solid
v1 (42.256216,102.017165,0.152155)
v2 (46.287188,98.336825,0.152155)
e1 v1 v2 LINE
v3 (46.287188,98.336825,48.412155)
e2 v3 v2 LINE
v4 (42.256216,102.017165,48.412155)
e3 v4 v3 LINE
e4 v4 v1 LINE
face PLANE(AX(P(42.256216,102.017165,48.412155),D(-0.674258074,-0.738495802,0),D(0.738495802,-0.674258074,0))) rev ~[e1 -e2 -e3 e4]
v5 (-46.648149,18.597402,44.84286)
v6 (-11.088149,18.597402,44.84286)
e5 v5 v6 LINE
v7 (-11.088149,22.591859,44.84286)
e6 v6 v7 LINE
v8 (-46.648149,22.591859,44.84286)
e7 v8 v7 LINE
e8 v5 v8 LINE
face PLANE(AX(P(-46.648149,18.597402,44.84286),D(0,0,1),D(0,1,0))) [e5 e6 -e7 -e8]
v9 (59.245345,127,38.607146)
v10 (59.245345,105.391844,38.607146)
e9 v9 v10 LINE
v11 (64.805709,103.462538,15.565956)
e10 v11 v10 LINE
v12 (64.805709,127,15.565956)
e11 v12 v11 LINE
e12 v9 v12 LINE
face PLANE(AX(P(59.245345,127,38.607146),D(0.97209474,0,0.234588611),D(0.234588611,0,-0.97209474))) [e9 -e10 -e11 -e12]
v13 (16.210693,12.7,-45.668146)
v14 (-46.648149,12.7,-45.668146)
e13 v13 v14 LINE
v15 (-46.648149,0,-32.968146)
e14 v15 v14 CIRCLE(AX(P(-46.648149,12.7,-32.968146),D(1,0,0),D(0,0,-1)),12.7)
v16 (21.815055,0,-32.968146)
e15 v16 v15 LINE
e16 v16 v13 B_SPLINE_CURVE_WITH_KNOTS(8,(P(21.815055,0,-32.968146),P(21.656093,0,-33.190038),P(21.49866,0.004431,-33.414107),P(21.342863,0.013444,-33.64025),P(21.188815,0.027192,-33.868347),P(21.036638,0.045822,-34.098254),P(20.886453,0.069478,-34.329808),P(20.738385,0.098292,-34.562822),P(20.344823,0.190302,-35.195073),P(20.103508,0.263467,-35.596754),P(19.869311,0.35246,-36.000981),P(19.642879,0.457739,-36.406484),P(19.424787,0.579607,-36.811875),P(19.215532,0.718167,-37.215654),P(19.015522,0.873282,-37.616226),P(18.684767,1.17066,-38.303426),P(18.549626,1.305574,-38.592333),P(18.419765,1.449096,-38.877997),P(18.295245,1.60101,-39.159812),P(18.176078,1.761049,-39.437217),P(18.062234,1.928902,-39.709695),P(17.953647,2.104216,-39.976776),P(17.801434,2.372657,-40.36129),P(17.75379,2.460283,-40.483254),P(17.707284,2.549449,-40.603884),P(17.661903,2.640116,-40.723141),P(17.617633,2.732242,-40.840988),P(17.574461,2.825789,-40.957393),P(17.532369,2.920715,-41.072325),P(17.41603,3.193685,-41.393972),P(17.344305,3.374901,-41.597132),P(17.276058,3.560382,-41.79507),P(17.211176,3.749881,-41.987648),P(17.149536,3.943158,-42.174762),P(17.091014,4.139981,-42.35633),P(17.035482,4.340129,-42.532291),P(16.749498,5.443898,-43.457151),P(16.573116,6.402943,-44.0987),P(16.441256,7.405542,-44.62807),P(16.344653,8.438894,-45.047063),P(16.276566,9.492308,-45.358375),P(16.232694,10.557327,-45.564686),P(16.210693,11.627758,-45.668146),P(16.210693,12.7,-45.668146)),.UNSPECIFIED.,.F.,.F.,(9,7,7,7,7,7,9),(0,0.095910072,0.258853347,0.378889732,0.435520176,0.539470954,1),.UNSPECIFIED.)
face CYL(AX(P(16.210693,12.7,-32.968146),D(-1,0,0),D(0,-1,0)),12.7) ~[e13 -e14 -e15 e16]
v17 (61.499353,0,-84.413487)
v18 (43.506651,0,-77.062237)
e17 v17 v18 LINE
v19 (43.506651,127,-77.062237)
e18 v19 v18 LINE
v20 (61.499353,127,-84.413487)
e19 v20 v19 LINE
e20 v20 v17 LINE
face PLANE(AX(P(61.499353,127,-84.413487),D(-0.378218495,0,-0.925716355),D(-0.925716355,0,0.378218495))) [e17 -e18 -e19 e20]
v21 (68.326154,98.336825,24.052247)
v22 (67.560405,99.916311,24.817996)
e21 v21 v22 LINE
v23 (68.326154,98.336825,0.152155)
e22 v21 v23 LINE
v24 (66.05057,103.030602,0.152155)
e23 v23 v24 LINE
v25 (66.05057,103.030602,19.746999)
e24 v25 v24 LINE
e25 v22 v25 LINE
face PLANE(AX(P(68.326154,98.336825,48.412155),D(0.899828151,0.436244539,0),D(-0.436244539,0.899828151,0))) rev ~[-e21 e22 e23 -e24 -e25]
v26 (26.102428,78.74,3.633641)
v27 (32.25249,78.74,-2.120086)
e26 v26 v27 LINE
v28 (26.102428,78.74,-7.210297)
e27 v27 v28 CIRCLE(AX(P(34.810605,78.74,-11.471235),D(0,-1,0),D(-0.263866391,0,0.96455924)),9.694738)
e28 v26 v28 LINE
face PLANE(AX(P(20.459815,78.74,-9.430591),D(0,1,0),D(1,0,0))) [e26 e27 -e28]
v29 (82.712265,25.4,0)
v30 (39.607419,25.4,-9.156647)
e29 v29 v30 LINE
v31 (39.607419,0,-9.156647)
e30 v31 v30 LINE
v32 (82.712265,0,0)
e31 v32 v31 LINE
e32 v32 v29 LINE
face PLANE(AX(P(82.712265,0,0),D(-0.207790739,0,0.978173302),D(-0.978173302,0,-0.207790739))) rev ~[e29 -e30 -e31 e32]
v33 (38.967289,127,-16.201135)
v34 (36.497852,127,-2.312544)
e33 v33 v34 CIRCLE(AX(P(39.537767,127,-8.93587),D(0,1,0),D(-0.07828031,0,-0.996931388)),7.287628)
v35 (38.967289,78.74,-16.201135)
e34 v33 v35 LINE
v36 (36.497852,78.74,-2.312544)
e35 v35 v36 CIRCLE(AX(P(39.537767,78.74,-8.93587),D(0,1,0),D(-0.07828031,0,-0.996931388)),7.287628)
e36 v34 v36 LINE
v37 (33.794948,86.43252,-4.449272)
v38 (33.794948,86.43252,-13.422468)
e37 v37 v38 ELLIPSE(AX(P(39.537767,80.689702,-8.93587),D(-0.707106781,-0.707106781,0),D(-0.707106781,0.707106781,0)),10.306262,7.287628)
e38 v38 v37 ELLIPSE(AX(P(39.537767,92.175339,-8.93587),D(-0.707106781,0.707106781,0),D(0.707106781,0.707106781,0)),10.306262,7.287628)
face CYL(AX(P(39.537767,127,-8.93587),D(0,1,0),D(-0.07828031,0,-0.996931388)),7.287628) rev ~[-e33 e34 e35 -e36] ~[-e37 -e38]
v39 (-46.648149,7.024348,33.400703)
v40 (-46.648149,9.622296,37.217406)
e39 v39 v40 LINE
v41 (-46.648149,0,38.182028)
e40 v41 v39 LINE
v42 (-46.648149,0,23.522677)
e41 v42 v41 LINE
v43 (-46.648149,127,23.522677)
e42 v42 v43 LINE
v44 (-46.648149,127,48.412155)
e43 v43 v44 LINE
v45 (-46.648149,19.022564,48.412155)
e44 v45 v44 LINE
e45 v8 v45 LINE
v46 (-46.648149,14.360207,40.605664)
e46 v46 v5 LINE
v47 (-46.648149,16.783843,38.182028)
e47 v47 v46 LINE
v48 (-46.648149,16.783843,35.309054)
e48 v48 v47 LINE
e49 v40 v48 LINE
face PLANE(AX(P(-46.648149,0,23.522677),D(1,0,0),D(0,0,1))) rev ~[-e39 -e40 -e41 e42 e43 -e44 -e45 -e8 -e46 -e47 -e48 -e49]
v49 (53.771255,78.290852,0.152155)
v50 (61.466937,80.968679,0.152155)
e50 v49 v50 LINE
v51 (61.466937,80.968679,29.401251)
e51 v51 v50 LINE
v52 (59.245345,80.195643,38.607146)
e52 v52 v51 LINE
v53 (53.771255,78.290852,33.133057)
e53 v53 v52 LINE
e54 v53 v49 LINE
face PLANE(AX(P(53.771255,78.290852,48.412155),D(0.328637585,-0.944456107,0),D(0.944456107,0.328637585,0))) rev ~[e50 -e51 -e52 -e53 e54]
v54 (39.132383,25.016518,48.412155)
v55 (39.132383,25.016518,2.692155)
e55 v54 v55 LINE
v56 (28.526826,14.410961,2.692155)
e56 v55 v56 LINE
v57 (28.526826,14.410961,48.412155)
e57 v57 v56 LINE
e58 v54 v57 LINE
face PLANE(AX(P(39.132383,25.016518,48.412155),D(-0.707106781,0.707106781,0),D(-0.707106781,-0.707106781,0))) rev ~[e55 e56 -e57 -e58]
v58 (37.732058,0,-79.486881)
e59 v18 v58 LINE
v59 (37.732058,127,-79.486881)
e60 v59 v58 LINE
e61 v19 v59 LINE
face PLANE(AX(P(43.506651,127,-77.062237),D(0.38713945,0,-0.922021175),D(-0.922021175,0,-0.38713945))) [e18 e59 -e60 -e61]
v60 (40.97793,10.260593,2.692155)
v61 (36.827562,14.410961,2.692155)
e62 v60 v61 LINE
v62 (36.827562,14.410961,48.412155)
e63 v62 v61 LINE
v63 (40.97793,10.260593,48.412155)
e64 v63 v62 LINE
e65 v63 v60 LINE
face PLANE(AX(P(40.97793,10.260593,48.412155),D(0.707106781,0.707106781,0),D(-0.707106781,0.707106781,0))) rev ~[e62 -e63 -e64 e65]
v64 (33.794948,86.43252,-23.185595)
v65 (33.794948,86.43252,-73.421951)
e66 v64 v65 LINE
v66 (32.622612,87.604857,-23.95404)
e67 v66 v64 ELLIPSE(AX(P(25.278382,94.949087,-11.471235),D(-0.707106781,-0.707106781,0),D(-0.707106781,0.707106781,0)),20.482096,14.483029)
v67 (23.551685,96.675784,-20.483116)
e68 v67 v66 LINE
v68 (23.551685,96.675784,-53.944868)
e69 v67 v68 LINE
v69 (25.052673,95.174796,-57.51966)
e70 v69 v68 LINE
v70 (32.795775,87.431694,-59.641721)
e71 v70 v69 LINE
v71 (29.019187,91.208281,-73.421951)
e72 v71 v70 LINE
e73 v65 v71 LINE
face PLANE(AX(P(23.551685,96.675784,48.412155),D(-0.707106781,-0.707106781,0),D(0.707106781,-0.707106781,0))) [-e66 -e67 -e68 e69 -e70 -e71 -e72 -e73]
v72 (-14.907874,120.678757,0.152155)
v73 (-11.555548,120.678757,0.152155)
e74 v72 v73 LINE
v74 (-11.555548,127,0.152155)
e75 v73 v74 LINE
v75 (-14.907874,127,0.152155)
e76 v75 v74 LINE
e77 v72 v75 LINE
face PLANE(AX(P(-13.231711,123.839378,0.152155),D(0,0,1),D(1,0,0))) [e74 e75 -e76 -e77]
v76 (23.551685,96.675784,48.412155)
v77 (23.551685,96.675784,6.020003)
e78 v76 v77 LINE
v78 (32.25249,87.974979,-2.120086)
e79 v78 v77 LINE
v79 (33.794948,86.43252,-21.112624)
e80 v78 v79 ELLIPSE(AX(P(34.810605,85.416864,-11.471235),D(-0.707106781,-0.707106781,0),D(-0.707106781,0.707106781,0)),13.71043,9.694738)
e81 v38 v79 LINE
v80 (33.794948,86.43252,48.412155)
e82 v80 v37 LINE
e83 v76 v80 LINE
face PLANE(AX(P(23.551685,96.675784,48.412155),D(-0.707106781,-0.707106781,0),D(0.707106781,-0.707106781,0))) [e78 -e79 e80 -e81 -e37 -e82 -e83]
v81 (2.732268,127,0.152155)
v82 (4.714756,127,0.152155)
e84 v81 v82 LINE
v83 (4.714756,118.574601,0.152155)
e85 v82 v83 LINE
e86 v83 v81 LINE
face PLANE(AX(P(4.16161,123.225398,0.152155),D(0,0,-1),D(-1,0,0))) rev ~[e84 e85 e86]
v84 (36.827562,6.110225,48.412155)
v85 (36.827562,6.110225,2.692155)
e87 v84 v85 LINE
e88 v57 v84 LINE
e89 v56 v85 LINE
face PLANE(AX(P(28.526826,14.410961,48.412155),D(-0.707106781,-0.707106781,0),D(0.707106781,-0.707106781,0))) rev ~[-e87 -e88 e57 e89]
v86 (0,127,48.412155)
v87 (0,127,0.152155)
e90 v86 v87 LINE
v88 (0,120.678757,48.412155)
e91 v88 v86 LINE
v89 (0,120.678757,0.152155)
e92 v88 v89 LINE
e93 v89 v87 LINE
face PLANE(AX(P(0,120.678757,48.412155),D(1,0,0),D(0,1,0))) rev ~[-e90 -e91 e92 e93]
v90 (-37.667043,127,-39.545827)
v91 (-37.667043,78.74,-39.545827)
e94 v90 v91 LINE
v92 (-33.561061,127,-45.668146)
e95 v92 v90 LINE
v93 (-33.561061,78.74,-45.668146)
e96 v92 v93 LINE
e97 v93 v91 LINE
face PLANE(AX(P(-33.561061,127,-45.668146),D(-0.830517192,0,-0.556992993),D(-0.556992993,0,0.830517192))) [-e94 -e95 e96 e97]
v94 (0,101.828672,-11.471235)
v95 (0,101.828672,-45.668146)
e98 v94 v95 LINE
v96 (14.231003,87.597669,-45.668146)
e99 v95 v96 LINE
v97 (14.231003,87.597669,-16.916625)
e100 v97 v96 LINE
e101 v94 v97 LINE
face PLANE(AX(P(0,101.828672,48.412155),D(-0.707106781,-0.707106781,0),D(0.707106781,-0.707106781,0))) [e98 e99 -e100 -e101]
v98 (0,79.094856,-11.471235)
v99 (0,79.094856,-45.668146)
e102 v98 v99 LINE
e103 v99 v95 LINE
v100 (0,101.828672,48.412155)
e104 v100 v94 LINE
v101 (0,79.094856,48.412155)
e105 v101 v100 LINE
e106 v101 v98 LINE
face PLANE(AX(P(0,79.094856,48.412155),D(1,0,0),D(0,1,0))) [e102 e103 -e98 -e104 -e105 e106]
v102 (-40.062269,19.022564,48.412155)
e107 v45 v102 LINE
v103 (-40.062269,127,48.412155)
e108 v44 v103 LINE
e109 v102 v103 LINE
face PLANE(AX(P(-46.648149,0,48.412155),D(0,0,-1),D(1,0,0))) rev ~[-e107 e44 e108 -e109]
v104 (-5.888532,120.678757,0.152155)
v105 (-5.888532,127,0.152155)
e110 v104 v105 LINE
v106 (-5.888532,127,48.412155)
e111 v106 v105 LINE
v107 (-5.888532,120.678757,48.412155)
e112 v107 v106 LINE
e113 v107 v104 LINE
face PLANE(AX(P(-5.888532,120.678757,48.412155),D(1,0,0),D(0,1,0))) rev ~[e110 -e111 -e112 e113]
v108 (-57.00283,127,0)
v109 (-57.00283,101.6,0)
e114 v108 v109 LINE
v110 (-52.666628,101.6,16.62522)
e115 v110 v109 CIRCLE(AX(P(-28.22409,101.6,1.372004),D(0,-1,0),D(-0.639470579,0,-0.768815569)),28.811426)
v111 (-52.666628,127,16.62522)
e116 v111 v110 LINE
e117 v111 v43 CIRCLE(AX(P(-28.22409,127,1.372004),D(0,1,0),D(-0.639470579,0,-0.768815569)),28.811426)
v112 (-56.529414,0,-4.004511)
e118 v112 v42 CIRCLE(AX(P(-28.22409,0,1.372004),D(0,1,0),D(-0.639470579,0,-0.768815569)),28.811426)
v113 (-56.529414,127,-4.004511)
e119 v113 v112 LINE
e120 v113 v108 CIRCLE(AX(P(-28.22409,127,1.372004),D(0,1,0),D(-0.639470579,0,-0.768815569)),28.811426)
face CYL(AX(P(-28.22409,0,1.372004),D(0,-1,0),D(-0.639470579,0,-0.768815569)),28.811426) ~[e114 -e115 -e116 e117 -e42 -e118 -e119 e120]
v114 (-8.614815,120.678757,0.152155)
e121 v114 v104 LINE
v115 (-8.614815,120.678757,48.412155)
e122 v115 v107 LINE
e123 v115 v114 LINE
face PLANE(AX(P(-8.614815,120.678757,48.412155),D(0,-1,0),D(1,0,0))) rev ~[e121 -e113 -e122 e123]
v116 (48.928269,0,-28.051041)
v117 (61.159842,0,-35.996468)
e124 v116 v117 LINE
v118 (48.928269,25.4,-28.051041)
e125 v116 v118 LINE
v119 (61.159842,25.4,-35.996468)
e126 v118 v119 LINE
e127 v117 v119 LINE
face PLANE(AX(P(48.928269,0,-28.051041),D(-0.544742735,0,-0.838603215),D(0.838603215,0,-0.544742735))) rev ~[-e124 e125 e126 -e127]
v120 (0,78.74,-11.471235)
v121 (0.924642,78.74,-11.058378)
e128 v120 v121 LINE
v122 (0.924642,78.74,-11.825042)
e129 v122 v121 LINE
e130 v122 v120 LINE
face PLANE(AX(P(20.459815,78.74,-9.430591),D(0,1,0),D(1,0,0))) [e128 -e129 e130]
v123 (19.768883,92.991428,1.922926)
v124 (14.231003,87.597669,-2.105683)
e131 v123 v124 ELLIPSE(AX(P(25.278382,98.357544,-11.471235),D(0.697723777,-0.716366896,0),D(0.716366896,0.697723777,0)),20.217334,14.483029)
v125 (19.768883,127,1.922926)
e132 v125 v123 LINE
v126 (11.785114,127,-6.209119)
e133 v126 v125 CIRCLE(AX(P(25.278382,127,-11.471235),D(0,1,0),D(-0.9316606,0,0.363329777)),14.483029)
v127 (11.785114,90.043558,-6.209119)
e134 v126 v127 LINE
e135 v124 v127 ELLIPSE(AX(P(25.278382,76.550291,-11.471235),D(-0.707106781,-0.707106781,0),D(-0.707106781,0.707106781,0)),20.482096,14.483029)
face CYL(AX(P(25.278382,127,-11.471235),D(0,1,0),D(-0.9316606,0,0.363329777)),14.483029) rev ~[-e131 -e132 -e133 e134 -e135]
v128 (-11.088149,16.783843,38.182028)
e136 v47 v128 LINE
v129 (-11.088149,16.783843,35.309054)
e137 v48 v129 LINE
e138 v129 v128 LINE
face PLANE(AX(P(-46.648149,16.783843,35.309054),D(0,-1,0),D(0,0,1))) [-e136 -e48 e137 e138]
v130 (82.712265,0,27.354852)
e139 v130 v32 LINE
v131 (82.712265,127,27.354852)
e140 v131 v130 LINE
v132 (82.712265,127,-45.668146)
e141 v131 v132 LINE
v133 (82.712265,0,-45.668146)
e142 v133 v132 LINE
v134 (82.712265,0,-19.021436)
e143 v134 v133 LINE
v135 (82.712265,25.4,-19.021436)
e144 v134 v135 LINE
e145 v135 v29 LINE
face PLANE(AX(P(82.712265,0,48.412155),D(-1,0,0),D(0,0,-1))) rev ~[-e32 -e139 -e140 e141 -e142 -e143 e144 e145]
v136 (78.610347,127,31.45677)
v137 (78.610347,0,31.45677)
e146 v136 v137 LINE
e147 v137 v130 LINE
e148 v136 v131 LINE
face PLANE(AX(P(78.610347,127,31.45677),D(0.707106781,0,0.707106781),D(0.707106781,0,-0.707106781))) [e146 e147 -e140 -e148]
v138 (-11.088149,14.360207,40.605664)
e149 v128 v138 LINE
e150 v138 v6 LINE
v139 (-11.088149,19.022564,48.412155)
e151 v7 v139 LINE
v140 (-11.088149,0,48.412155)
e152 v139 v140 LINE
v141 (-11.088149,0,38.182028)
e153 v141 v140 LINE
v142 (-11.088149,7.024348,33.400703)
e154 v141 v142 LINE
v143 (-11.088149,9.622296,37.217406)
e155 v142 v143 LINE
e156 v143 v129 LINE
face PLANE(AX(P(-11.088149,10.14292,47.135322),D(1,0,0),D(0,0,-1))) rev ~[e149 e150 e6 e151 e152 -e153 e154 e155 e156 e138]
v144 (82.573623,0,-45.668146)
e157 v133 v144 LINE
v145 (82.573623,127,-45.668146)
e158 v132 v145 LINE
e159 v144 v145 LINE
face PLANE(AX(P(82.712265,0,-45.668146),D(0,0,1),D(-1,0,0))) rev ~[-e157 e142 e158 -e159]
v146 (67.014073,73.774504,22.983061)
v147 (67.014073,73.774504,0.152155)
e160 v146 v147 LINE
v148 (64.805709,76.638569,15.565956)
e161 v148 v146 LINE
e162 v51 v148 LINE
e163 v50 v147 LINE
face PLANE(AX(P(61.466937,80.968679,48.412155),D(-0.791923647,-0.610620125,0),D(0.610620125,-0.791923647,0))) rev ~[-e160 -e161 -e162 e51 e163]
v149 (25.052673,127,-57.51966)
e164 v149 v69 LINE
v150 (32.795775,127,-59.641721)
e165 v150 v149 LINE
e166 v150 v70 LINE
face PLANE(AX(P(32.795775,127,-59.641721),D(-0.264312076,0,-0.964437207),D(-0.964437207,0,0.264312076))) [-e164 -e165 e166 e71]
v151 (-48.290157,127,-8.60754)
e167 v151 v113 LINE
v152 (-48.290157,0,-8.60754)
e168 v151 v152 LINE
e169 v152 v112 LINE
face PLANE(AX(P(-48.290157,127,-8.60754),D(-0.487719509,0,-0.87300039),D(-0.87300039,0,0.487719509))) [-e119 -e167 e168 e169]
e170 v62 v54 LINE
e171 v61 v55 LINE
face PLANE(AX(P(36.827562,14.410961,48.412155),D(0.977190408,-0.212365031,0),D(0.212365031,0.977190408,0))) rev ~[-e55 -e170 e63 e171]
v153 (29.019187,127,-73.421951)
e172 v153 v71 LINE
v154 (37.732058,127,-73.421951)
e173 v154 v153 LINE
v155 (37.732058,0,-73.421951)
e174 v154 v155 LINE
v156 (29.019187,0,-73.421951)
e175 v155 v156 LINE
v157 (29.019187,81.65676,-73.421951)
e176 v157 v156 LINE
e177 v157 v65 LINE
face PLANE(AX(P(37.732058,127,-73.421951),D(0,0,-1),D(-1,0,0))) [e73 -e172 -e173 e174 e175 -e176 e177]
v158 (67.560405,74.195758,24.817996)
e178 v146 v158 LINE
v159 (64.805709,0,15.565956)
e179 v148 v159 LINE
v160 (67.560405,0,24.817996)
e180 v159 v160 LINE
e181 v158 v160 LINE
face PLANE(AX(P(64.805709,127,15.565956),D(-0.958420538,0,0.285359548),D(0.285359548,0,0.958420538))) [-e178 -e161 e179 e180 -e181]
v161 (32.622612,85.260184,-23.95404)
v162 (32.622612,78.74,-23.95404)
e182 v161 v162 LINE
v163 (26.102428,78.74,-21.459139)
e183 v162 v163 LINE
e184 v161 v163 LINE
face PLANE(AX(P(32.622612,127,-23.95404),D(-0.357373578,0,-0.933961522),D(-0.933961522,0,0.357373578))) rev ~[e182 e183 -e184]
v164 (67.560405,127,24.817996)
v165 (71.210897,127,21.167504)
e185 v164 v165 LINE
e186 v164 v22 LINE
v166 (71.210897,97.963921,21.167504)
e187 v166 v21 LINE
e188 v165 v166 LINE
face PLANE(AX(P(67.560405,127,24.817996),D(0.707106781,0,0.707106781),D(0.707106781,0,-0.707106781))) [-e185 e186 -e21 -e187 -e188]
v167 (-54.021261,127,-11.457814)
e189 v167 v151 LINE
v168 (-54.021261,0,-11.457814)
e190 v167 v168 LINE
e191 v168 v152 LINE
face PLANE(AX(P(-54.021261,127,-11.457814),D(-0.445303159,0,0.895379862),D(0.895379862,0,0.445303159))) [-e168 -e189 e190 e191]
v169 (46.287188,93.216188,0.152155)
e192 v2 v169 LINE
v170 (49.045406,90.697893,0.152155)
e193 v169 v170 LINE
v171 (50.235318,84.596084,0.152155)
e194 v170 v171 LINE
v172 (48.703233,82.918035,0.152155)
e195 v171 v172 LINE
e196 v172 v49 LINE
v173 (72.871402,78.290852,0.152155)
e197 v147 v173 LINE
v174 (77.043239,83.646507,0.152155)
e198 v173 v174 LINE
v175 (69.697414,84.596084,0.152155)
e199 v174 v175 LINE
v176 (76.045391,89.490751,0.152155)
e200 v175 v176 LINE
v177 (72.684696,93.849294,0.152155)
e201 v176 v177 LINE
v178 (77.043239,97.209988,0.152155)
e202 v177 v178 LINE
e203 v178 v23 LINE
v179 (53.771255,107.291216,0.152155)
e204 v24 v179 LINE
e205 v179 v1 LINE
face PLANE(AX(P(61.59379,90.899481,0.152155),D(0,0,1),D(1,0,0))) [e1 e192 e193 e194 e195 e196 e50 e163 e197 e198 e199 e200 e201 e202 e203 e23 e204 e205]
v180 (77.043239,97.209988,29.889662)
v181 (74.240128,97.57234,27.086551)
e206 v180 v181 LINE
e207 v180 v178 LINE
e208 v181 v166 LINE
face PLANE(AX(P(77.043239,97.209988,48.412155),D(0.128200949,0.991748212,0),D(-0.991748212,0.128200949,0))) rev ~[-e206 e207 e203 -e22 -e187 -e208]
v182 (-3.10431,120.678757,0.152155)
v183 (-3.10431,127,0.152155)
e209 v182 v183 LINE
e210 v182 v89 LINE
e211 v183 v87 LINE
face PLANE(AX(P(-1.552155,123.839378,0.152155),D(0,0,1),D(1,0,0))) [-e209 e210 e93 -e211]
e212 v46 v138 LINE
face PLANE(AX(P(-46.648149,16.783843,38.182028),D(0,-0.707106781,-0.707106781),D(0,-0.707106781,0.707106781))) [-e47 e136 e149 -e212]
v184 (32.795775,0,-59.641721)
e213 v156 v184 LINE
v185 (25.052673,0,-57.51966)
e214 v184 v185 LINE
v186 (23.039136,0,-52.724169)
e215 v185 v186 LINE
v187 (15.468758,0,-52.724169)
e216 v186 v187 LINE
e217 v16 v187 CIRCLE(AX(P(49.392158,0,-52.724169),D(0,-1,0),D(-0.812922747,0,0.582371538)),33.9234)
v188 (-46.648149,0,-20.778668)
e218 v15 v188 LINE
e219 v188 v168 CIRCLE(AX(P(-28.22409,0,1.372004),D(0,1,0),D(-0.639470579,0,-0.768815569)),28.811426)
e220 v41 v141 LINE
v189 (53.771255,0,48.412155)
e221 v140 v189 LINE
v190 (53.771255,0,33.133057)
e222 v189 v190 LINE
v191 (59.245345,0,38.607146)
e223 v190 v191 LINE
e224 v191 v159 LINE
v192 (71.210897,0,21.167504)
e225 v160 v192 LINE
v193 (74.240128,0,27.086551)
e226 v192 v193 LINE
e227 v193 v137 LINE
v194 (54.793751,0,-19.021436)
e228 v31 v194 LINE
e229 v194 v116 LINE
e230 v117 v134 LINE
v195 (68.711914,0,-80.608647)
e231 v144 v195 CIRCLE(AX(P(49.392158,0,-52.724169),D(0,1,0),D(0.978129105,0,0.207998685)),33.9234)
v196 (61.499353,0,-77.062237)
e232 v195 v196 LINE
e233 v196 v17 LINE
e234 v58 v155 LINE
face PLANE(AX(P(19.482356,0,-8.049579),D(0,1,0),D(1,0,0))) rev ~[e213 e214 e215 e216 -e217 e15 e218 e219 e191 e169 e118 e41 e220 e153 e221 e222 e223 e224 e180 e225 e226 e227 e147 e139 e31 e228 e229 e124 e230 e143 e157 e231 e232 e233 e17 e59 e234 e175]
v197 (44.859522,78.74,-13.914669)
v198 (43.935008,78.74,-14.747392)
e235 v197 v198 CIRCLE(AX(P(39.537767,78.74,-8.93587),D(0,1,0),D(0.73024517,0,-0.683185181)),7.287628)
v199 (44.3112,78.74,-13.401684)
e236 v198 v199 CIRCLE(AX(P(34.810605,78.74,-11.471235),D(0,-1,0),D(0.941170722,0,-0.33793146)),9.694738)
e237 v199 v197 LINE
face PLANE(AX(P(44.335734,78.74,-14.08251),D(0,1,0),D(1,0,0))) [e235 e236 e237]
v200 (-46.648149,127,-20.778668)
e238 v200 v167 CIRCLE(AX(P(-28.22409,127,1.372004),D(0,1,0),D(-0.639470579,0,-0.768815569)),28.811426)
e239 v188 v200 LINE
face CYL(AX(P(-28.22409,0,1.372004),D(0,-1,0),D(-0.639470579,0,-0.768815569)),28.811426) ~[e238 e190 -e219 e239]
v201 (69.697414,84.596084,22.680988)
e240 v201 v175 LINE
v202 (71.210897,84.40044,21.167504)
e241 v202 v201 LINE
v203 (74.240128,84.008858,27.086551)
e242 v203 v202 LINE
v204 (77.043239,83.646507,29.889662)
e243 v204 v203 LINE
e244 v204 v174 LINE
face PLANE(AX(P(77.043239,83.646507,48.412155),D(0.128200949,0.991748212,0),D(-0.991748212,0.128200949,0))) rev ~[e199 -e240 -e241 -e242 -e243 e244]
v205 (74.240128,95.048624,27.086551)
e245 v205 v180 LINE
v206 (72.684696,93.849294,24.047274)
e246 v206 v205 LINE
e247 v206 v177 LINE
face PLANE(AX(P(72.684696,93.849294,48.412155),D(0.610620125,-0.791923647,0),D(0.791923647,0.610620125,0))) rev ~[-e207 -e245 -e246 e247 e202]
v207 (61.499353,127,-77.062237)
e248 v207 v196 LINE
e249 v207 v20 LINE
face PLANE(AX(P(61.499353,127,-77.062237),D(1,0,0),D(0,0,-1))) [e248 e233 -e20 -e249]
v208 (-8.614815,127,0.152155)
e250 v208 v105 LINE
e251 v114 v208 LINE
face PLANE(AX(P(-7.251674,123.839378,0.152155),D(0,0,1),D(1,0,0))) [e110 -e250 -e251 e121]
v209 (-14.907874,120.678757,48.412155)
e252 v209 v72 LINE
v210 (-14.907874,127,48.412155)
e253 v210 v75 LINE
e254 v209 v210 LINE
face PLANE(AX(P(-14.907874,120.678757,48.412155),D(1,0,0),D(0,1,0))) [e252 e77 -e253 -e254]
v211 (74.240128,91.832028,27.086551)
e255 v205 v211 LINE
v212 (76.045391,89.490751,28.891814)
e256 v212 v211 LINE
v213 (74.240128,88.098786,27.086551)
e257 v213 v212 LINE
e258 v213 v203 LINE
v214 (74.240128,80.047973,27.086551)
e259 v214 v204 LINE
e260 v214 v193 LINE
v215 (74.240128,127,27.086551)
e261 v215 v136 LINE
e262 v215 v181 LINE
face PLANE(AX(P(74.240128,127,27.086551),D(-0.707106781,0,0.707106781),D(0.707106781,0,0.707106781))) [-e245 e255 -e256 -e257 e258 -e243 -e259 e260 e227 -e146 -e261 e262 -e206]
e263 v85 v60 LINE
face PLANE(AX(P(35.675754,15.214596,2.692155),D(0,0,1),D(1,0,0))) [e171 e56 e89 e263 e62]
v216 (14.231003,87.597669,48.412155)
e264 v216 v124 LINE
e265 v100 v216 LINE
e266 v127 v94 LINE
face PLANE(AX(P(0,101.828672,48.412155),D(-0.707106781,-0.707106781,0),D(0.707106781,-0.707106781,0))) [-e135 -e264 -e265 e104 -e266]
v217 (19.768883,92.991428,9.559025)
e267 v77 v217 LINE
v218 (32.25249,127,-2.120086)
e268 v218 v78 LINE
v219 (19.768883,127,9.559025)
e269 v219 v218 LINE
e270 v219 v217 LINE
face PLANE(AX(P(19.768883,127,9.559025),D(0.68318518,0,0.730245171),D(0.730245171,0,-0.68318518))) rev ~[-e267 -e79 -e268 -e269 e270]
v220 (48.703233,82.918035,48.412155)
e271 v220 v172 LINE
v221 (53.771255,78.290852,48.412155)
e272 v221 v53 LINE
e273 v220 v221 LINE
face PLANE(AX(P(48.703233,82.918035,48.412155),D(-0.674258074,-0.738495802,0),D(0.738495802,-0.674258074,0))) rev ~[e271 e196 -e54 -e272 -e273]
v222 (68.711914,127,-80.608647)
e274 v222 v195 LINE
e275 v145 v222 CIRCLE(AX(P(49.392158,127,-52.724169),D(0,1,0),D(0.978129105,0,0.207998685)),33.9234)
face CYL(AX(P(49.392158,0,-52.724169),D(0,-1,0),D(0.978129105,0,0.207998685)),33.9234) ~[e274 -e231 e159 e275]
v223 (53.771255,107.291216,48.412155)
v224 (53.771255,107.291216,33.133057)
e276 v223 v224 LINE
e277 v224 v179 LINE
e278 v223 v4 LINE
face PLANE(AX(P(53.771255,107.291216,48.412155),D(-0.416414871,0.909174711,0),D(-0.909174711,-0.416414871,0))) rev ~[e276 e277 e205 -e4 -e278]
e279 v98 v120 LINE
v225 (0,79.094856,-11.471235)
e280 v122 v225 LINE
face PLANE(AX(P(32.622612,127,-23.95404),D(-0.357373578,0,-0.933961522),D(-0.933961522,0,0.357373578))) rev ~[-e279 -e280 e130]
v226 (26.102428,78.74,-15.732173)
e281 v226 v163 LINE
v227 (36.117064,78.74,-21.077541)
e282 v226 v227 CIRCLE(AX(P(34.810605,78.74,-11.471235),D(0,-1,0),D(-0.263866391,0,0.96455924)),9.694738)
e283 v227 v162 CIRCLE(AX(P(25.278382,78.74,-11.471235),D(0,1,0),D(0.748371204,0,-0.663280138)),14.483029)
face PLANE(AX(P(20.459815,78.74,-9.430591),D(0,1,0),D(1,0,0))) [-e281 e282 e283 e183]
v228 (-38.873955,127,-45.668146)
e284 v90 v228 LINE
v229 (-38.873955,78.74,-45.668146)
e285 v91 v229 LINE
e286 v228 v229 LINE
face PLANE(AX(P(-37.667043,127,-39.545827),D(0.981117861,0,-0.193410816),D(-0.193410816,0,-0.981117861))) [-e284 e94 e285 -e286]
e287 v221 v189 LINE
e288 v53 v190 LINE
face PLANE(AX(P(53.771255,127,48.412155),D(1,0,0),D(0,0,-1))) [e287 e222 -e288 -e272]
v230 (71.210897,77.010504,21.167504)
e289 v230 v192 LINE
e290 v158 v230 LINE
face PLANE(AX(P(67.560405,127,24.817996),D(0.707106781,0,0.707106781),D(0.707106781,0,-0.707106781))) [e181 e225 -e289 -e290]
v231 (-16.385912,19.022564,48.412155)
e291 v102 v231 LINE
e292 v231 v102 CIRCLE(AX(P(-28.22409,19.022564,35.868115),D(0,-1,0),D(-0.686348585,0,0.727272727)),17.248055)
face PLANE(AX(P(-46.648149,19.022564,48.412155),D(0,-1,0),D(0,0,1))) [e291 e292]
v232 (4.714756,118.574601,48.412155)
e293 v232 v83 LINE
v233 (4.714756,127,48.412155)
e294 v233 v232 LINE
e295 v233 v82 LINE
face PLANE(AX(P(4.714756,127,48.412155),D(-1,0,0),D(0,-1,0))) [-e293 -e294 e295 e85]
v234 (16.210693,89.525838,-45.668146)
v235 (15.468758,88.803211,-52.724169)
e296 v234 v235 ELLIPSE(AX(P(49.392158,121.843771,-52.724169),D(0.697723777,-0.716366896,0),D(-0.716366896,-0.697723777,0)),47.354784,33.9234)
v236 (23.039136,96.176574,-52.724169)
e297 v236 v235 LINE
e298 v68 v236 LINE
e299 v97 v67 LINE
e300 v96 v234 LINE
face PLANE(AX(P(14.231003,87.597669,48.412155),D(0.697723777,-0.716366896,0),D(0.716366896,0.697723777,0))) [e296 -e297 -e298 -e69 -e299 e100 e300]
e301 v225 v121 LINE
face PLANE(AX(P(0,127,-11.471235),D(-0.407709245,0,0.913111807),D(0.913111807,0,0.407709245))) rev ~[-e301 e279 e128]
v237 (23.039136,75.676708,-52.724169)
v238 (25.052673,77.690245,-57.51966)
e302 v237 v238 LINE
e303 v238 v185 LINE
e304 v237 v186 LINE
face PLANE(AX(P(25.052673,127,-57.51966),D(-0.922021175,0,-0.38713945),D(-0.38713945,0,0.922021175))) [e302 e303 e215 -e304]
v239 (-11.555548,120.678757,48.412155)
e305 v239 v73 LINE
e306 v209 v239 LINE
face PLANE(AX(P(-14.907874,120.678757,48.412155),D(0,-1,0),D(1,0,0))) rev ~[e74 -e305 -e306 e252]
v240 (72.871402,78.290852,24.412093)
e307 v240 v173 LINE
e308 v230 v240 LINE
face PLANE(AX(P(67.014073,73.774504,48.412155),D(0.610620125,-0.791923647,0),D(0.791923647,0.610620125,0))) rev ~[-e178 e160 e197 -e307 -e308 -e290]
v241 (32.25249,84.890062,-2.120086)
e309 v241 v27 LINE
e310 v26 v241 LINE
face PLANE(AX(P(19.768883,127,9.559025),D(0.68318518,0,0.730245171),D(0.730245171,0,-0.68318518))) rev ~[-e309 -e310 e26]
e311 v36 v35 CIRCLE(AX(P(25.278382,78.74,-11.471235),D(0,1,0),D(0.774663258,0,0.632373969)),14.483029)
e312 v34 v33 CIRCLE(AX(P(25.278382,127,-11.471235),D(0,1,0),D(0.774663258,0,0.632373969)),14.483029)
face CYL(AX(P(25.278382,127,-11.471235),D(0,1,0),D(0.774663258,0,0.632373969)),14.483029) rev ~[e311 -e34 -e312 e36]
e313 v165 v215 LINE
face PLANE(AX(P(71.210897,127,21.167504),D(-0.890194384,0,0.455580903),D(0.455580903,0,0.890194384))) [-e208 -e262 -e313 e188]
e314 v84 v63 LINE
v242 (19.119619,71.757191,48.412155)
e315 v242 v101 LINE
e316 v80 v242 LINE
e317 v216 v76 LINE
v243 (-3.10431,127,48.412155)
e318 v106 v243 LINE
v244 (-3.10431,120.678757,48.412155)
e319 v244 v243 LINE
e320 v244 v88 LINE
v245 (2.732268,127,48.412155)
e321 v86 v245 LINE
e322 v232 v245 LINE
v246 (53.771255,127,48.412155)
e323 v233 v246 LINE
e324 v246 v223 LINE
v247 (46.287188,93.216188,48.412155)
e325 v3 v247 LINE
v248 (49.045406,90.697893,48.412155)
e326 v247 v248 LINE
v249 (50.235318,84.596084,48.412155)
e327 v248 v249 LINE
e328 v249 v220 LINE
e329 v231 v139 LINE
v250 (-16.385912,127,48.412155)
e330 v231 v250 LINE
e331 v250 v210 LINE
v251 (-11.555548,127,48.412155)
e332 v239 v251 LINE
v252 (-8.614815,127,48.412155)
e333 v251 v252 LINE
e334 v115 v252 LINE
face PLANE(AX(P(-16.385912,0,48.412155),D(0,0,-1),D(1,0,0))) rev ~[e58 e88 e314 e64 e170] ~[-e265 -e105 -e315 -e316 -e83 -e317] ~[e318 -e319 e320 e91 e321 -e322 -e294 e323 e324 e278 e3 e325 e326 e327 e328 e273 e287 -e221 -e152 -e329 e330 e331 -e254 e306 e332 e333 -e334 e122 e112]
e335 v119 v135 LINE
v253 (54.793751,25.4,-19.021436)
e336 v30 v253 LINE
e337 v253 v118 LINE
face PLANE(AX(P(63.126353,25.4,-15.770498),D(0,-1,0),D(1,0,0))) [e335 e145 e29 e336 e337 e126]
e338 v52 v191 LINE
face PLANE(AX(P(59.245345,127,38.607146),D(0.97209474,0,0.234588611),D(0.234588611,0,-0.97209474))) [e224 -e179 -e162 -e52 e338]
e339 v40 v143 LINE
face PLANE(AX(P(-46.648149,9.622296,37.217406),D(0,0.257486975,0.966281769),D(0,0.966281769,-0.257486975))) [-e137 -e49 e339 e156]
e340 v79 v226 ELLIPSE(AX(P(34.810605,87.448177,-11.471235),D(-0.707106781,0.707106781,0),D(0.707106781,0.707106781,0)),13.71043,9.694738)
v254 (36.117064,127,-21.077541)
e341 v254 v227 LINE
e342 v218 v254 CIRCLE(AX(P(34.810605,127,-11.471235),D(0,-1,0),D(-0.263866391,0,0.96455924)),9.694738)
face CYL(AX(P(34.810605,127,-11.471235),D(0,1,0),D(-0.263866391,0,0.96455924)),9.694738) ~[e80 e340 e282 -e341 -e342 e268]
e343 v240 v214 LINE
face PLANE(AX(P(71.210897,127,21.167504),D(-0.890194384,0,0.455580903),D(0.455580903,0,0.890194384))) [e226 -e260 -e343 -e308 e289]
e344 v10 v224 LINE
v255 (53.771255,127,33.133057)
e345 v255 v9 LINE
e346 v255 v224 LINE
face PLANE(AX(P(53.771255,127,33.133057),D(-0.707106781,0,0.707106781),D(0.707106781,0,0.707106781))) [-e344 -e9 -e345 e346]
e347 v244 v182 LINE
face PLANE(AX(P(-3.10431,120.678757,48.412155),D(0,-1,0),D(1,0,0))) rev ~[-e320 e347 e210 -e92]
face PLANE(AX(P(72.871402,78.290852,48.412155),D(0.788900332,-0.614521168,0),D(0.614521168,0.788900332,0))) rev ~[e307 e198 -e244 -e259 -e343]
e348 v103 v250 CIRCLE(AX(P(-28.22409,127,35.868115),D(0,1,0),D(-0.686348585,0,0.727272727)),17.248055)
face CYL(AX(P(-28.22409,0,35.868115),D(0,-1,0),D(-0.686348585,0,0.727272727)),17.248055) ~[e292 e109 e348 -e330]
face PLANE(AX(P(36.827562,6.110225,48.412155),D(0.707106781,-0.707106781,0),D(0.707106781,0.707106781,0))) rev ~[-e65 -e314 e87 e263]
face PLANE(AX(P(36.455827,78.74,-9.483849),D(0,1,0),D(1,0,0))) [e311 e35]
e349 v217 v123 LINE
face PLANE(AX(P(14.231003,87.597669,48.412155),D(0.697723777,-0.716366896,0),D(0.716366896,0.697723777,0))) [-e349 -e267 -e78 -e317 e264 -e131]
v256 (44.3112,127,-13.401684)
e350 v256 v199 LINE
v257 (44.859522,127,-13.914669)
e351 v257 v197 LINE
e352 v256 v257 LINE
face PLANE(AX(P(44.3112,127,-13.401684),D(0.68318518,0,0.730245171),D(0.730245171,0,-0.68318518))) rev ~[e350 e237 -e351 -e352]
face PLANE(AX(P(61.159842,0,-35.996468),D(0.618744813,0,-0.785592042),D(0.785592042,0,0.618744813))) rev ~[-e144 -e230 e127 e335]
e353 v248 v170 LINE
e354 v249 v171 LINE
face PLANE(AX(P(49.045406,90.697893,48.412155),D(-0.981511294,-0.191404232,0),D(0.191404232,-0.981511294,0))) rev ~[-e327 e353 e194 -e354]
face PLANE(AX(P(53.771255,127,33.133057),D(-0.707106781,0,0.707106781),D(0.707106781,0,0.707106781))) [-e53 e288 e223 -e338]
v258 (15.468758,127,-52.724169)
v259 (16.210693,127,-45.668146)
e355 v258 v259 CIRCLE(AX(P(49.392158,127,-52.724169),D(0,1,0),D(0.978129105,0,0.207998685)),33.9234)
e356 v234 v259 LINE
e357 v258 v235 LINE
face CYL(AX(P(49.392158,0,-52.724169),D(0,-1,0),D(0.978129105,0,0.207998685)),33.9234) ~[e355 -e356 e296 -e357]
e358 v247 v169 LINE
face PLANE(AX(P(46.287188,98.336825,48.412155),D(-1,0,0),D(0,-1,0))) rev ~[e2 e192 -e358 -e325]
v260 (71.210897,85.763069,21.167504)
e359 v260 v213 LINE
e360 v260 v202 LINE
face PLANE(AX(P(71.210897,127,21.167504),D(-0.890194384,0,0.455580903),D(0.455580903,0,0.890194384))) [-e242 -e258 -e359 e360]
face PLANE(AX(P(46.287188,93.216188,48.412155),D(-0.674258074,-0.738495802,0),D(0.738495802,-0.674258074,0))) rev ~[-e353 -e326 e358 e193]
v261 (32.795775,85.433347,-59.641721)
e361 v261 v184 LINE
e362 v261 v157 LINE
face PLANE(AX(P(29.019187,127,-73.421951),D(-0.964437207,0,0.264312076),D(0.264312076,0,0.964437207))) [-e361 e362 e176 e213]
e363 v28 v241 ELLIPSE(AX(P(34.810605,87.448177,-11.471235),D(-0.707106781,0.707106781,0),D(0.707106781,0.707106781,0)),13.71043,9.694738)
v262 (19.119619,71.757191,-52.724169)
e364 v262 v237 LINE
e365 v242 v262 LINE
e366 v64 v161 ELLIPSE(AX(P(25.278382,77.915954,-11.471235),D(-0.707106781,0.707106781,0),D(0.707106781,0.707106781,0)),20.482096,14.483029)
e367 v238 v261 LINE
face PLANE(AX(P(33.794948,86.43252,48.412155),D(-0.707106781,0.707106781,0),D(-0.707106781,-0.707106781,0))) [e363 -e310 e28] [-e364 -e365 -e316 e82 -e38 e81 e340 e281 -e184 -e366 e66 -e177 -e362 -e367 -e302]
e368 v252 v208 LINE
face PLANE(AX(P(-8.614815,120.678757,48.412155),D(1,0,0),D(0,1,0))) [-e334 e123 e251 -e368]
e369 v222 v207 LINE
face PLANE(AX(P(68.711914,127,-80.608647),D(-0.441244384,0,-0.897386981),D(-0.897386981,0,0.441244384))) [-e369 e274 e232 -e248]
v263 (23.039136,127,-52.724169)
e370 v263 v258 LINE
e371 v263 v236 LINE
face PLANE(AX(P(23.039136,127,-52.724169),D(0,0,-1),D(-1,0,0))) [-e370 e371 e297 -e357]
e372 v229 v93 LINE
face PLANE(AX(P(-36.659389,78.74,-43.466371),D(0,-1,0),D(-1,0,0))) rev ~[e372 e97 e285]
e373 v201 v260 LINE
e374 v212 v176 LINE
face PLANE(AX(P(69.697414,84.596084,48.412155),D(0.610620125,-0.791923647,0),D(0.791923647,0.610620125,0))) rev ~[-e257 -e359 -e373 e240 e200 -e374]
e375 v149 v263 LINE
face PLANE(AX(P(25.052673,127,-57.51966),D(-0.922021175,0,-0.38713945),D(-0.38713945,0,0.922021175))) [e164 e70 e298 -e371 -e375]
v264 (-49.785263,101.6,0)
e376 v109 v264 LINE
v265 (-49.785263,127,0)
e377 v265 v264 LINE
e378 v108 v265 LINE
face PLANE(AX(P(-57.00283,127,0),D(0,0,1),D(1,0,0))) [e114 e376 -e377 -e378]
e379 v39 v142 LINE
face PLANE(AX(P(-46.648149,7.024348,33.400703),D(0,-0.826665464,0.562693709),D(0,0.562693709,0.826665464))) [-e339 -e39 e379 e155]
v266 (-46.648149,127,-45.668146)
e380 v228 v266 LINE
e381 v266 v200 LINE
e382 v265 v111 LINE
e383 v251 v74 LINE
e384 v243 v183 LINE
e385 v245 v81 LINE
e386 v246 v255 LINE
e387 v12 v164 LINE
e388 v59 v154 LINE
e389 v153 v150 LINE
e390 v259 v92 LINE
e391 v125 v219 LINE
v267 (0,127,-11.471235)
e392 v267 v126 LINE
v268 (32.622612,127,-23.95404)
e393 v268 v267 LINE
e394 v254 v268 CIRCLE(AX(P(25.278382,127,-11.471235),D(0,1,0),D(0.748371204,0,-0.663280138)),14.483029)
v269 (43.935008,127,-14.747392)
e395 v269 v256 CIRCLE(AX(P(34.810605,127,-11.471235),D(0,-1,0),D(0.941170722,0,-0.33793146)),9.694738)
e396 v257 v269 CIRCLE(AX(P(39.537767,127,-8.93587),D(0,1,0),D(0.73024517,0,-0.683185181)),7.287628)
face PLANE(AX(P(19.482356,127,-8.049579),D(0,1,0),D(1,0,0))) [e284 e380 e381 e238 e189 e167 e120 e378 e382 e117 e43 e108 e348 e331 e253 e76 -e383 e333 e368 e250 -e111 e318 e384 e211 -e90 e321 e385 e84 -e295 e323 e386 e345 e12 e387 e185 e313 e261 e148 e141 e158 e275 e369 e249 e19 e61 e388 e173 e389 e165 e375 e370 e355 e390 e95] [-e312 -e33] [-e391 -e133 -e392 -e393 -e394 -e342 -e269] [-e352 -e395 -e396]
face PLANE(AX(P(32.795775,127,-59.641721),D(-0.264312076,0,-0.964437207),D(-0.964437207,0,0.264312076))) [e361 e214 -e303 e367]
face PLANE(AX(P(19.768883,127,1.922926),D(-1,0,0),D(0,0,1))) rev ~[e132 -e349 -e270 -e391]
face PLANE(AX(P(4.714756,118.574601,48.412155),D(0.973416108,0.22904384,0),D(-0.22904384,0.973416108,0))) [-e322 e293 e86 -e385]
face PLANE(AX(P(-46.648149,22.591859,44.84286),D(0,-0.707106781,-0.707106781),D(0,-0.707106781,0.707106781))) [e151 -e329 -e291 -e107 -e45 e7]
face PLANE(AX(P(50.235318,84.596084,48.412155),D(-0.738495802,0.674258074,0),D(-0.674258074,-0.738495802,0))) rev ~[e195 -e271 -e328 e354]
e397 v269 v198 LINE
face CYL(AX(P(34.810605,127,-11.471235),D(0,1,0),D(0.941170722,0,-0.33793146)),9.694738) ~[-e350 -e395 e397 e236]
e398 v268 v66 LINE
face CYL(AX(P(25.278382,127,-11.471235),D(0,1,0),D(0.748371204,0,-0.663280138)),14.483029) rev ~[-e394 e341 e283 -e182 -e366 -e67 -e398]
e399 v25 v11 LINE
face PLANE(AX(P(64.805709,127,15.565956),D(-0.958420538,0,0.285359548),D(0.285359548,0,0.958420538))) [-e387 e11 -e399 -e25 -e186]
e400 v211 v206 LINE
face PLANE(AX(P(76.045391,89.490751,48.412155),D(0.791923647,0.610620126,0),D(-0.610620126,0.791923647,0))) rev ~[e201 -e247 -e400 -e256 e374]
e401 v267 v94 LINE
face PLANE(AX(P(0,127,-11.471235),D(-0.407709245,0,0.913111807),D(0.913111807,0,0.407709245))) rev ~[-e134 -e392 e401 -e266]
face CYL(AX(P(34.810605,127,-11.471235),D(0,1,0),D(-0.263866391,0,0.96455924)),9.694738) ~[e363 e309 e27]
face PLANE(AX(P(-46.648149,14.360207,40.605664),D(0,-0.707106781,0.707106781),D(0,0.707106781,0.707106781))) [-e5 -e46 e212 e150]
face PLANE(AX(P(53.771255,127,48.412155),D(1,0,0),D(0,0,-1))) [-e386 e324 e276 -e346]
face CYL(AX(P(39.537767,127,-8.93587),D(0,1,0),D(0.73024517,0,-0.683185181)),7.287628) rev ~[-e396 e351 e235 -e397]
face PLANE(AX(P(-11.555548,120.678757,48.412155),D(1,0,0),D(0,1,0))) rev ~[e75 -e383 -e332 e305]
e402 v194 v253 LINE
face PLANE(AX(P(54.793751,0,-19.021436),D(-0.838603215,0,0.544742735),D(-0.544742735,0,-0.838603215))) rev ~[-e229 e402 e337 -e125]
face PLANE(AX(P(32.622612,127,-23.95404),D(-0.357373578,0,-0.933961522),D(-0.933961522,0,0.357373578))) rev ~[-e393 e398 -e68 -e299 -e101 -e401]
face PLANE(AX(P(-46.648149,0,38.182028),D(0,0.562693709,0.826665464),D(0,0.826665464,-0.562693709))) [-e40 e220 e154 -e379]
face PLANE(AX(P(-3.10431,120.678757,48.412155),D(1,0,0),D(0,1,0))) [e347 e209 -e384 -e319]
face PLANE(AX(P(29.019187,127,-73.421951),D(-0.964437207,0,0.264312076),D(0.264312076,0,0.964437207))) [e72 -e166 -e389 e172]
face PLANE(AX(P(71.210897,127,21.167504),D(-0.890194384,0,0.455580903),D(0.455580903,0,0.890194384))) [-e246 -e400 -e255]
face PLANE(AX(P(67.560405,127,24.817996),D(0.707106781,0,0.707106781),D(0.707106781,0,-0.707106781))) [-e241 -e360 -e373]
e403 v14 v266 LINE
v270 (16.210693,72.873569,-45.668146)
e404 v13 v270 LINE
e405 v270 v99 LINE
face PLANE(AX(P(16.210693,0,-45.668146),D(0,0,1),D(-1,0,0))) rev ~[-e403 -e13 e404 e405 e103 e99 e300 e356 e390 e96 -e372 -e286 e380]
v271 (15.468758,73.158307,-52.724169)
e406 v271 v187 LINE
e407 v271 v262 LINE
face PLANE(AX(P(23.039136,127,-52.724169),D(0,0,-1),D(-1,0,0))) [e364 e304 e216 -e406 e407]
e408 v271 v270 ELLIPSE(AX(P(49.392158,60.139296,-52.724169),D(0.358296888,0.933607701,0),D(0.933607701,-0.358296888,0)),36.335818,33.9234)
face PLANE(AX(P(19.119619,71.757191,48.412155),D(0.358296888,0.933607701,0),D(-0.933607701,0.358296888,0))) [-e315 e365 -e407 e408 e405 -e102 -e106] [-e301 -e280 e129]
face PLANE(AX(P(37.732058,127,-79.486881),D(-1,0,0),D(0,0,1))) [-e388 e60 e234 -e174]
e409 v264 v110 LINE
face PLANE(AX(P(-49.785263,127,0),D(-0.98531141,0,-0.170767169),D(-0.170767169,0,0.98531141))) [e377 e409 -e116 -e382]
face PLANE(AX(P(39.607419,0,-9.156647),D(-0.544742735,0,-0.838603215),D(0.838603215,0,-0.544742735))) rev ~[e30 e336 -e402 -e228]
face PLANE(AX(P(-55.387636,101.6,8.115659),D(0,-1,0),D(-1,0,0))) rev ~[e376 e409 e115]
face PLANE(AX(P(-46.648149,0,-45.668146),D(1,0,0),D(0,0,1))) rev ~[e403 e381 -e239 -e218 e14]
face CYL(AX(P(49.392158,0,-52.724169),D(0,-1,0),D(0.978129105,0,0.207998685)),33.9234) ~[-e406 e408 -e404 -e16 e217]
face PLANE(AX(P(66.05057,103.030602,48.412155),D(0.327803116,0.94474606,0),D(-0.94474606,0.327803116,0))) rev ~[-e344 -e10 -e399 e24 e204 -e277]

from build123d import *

# Parameters (mm, degrees)
BOSS_EXTRUDE1_DEPTH = 127
CUT_EXTRUDE1_DEPTH  = 127
CUT_EXTRUDE2_DEPTH  = 127
CUT_EXTRUDE3_DEPTH  = 127
CUT_EXTRUDE4_DEPTH  = 127
CUT_EXTRUDE5_DEPTH  = 35.56
CUT_EXTRUDE6_DEPTH  = 45.72
CUT_EXTRUDE7_DEPTH  = 25.4
CUT_EXTRUDE8_DEPTH  = 25.4
CUT_EXTRUDE9_DEPTH  = 48.26
FILLET2_R           = 12.7
CUT_EXTRUDE10_DEPTH = 48.26
CUT_EXTRUDE11_DEPTH = 48.26
SKETCH13_W          = 3.352326168
SKETCH13_H          = 6.321243204
SKETCH13_W_2        = 2.726283313
SKETCH13_W_3        = 3.104310258
CUT_EXTRUDE12_DEPTH = 48.26


with BuildPart() as part:
    # Sketch1 → Boss-Extrude1 (new body)
    with BuildSketch(Plane(origin=(0, 0, 0), x_dir=(1, 0, 0), z_dir=(0, 1, 0))):
        with BuildLine():
            Line((-46.648149315, -23.52267691), (-46.648149315, -48.412154961))
            Line((-46.648149315, -48.412154961), (-40.062268629, -48.412154961))
            ThreePointArc((-40.062268629, -48.412154961), (-28.224090342, -53.116170018), (-16.385912055, -48.412154961))
            Line((-16.385912055, -48.412154961), (82.712264752, -48.412154961))
            Line((82.712264752, -48.412154961), (82.712264752, 45.668146178))
            Line((82.712264752, 45.668146178), (82.57362293, 45.668146178))
            ThreePointArc((82.57362293, 45.668146178), (49.392158098, 86.647568698), (16.210693266, 45.668146178))
            Line((16.210693266, 45.668146178), (-46.648149315, 45.668146178))
            Line((-46.648149315, 45.668146178), (-46.648149315, 20.778668127))
            ThreePointArc((-46.648149315, 20.778668127), (-57.035515889, -1.372004392), (-46.648149315, -23.52267691))
        make_face()
    extrude(amount=BOSS_EXTRUDE1_DEPTH)

    # Sketch2 → Cut-Extrude1 (cut)
    with BuildSketch(Plane(origin=(0, 127, 0), x_dir=(1, 0, 0), z_dir=(0, 1, 0))):
        Polygon((53.771255125, -48.412154961), (53.771255125, -33.133056701), (59.245344615, -38.607146191), (64.805708774, -15.565956225), (67.56040543, -24.817995886), (71.210896888, -21.167504428), (74.240128171, -27.086551208), (78.610346891, -31.456769928), (82.712264752, -27.354852067), (82.712264752, -48.412154961), align=None)
    extrude(amount=-CUT_EXTRUDE1_DEPTH, mode=Mode.SUBTRACT)

    # Sketch3 → Cut-Extrude2 (cut)
    with BuildSketch(Plane(origin=(0, 127, 0), x_dir=(1, 0, 0), z_dir=(0, 1, 0))):
        Polygon((-54.021260569, 11.457814404), (-48.290157028, 8.607539769), (-56.529413656, 4.004510667), (-59.573272313, 8.607539769), align=None)
    extrude(amount=-CUT_EXTRUDE2_DEPTH, mode=Mode.SUBTRACT)

    # Sketch4 → Cut-Extrude3 (cut)
    with BuildSketch(Plane(origin=(0, 127, 0), x_dir=(1, 0, 0), z_dir=(0, 1, 0))):
        Polygon((68.711913571, 80.608646732), (61.499352783, 77.062236982), (61.499352783, 84.413487152), (43.506651189, 77.062236982), (37.732058212, 79.486880591), (37.732058212, 73.421951288), (29.019187448, 73.421951288), (32.795774648, 59.641721258), (25.052672929, 57.519659523), (23.039136033, 52.724168763), (15.468758164, 52.724168763), (7.703729169, 71.729623121), (36.607461416, 93.948488974), (52.503001986, 98.304794706), (65.105633177, 93.013185532), (69.999007684, 86.647568698), align=None)
    extrude(amount=-CUT_EXTRUDE3_DEPTH, mode=Mode.SUBTRACT)

    # Sketch5 → Cut-Extrude4 (cut)
    with BuildSketch(Plane.XY.offset(48.412154961)):
        Polygon((23.551684909, 96.675783769), (33.794948234, 86.432520444), (19.119619253, 71.757191462), (0, 79.094855953), (0, 101.828672261), (14.231003477, 87.597668784), align=None)
    extrude(amount=-CUT_EXTRUDE4_DEPTH, mode=Mode.SUBTRACT)

    # Sketch6 → Cut-Extrude5 (cut)
    with BuildSketch(Plane.ZY.offset(46.648149315)):
        Polygon((38.182028022, 0), (33.400703039, 7.024347662), (37.217405556, 9.622296393), (35.309054298, 16.783843232), (38.182028022, 16.783843232), (40.605664491, 14.360206762), (44.842860178, 18.597402448), (44.842860178, 22.591859045), (48.412154961, 19.022564262), (59.012556324, 19.022564262), (59.012556324, 0), (48.412154961, 0), align=None)
    extrude(amount=-CUT_EXTRUDE5_DEPTH, mode=Mode.SUBTRACT)

    # Sketch7 → Cut-Extrude6 (cut)
    with BuildSketch(Plane.XY.offset(48.412154961)):
        Polygon((39.132383475, 25.016517963), (28.526826147, 14.410960635), (36.827561927, 6.110224855), (40.977929817, 10.260592745), (36.827561927, 14.410960635), align=None)
    extrude(amount=-CUT_EXTRUDE6_DEPTH, mode=Mode.SUBTRACT)

    # Sketch8 → Cut-Extrude7 (cut)
    with BuildSketch(Plane(origin=(0, 127, 0), x_dir=(1, 0, 0), z_dir=(0, 1, 0))):
        with BuildLine():
            Line((-57.002829821, 0), (-49.785263054, 0))
            Line((-49.785263054, 0), (-52.666628039, -16.625220216))
            ThreePointArc((-52.666628039, -16.625220216), (-57.55914693, -15.494773831), (-62.296457645, -13.829680042))
            Line((-62.296457645, -13.829680042), (-57.002829821, 0))
        make_face()
    extrude(amount=-CUT_EXTRUDE7_DEPTH, mode=Mode.SUBTRACT)

    # Sketch9 → Cut-Extrude8 (cut)
    with BuildSketch(Plane.XZ):
        Polygon((82.712264752, 0), (39.607419236, -9.156647056), (54.793750982, -19.021436188), (48.928269368, -28.051041225), (61.159841994, -35.996467858), (82.712264752, -19.021436188), align=None)
    extrude(amount=-CUT_EXTRUDE8_DEPTH, mode=Mode.SUBTRACT)

    # Sketch10 → Cut-Extrude9 (cut)
    with BuildSketch(Plane.XY.offset(48.412154961)):
        Polygon((53.771255125, 107.29121559), (42.256216165, 102.017164953), (46.287188011, 98.336825396), (46.287188011, 93.216188047), (49.045405549, 90.697892831), (50.235317507, 84.59608405), (48.703232752, 82.918034942), (53.771255125, 78.290852235), (61.466936814, 80.968679424), (67.014073164, 73.774503757), (72.871402474, 78.290852235), (77.043238703, 83.646506612), (69.697413806, 84.59608405), (76.045391143, 89.490751273), (72.68469634, 93.849293635), (77.043238703, 97.209988438), (68.326153978, 98.336825396), (66.050570011, 103.030602234), align=None)
    extrude(amount=-CUT_EXTRUDE9_DEPTH, mode=Mode.SUBTRACT)

    # Fillet2
    fillet2_edges = [part.edges().sort_by_distance(p)[0] for p in [
        (-15.218728024, 0, -45.668146178),
    ]]
    fillet(fillet2_edges, radius=FILLET2_R)

    # Sketch11 → Cut-Extrude10 (cut)
    with BuildSketch(Plane(origin=(0, 127, 0), x_dir=(1, 0, 0), z_dir=(0, 1, 0))):
        Polygon((-33.561061306, 45.668146178), (-37.667043384, 39.545827315), (-38.873955148, 45.668146178), align=None)
    extrude(amount=-CUT_EXTRUDE10_DEPTH, mode=Mode.SUBTRACT)

    # Sketch12 → Cut-Extrude11 (cut)
    with BuildSketch(Plane(origin=(0, 127, 0), x_dir=(1, 0, 0), z_dir=(0, 1, 0))):
        with BuildLine():
            Line((32.62261169, 23.954039897), (0, 11.47123499))
            Line((0, 11.47123499), (11.785114171, 6.209119257))
            ThreePointArc((11.785114171, 6.209119257), (14.943546446, 1.324840992), (19.768883298, -1.922926376))
            Line((19.768883298, -1.922926376), (19.768883298, -9.559025438))
            Line((19.768883298, -9.559025438), (32.25248958, 2.120086108))
            ThreePointArc((32.25248958, 2.120086108), (25.311240294, 13.407729102), (36.117063667, 21.077540525))
            ThreePointArc((36.117063667, 21.077540525), (34.482898742, 22.653139956), (32.62261169, 23.954039897))
        make_face()
        with BuildLine():
            Line((44.311200133, 13.401683946), (44.859521729, 13.914669452))
            ThreePointArc((44.859521729, 13.914669452), (44.41506933, 14.350797491), (43.935008387, 14.747391861))
            ThreePointArc((43.935008387, 14.747391861), (44.147380403, 14.081324283), (44.311200133, 13.401683946))
        make_face()
        with BuildLine():
            ThreePointArc((36.497852258, 2.312544405), (39.537766596, 8.935870024), (38.967288817, 16.201135094))
            ThreePointArc((38.967288817, 16.201135094), (32.362672824, 10.211625014), (36.497852258, 2.312544405))
        make_face()
    extrude(amount=-CUT_EXTRUDE11_DEPTH, mode=Mode.SUBTRACT)

    # Sketch13 → Cut-Extrude12 (cut)
    with BuildSketch(Plane.XY.offset(48.412154961)):
        with Locations((-13.231710861, 123.839378398)):
            Rectangle(SKETCH13_W, SKETCH13_H)
        with Locations((-7.25167366, 123.839378398)):
            Rectangle(SKETCH13_W_2, SKETCH13_H)
        with Locations((-1.552155129, 123.839378398)):
            Rectangle(SKETCH13_W_3, SKETCH13_H)
        Polygon((2.732268262, 127), (4.714756247, 127), (4.714756247, 118.574601007), align=None)
    extrude(amount=-CUT_EXTRUDE12_DEPTH, mode=Mode.SUBTRACT)


solid = part.part
